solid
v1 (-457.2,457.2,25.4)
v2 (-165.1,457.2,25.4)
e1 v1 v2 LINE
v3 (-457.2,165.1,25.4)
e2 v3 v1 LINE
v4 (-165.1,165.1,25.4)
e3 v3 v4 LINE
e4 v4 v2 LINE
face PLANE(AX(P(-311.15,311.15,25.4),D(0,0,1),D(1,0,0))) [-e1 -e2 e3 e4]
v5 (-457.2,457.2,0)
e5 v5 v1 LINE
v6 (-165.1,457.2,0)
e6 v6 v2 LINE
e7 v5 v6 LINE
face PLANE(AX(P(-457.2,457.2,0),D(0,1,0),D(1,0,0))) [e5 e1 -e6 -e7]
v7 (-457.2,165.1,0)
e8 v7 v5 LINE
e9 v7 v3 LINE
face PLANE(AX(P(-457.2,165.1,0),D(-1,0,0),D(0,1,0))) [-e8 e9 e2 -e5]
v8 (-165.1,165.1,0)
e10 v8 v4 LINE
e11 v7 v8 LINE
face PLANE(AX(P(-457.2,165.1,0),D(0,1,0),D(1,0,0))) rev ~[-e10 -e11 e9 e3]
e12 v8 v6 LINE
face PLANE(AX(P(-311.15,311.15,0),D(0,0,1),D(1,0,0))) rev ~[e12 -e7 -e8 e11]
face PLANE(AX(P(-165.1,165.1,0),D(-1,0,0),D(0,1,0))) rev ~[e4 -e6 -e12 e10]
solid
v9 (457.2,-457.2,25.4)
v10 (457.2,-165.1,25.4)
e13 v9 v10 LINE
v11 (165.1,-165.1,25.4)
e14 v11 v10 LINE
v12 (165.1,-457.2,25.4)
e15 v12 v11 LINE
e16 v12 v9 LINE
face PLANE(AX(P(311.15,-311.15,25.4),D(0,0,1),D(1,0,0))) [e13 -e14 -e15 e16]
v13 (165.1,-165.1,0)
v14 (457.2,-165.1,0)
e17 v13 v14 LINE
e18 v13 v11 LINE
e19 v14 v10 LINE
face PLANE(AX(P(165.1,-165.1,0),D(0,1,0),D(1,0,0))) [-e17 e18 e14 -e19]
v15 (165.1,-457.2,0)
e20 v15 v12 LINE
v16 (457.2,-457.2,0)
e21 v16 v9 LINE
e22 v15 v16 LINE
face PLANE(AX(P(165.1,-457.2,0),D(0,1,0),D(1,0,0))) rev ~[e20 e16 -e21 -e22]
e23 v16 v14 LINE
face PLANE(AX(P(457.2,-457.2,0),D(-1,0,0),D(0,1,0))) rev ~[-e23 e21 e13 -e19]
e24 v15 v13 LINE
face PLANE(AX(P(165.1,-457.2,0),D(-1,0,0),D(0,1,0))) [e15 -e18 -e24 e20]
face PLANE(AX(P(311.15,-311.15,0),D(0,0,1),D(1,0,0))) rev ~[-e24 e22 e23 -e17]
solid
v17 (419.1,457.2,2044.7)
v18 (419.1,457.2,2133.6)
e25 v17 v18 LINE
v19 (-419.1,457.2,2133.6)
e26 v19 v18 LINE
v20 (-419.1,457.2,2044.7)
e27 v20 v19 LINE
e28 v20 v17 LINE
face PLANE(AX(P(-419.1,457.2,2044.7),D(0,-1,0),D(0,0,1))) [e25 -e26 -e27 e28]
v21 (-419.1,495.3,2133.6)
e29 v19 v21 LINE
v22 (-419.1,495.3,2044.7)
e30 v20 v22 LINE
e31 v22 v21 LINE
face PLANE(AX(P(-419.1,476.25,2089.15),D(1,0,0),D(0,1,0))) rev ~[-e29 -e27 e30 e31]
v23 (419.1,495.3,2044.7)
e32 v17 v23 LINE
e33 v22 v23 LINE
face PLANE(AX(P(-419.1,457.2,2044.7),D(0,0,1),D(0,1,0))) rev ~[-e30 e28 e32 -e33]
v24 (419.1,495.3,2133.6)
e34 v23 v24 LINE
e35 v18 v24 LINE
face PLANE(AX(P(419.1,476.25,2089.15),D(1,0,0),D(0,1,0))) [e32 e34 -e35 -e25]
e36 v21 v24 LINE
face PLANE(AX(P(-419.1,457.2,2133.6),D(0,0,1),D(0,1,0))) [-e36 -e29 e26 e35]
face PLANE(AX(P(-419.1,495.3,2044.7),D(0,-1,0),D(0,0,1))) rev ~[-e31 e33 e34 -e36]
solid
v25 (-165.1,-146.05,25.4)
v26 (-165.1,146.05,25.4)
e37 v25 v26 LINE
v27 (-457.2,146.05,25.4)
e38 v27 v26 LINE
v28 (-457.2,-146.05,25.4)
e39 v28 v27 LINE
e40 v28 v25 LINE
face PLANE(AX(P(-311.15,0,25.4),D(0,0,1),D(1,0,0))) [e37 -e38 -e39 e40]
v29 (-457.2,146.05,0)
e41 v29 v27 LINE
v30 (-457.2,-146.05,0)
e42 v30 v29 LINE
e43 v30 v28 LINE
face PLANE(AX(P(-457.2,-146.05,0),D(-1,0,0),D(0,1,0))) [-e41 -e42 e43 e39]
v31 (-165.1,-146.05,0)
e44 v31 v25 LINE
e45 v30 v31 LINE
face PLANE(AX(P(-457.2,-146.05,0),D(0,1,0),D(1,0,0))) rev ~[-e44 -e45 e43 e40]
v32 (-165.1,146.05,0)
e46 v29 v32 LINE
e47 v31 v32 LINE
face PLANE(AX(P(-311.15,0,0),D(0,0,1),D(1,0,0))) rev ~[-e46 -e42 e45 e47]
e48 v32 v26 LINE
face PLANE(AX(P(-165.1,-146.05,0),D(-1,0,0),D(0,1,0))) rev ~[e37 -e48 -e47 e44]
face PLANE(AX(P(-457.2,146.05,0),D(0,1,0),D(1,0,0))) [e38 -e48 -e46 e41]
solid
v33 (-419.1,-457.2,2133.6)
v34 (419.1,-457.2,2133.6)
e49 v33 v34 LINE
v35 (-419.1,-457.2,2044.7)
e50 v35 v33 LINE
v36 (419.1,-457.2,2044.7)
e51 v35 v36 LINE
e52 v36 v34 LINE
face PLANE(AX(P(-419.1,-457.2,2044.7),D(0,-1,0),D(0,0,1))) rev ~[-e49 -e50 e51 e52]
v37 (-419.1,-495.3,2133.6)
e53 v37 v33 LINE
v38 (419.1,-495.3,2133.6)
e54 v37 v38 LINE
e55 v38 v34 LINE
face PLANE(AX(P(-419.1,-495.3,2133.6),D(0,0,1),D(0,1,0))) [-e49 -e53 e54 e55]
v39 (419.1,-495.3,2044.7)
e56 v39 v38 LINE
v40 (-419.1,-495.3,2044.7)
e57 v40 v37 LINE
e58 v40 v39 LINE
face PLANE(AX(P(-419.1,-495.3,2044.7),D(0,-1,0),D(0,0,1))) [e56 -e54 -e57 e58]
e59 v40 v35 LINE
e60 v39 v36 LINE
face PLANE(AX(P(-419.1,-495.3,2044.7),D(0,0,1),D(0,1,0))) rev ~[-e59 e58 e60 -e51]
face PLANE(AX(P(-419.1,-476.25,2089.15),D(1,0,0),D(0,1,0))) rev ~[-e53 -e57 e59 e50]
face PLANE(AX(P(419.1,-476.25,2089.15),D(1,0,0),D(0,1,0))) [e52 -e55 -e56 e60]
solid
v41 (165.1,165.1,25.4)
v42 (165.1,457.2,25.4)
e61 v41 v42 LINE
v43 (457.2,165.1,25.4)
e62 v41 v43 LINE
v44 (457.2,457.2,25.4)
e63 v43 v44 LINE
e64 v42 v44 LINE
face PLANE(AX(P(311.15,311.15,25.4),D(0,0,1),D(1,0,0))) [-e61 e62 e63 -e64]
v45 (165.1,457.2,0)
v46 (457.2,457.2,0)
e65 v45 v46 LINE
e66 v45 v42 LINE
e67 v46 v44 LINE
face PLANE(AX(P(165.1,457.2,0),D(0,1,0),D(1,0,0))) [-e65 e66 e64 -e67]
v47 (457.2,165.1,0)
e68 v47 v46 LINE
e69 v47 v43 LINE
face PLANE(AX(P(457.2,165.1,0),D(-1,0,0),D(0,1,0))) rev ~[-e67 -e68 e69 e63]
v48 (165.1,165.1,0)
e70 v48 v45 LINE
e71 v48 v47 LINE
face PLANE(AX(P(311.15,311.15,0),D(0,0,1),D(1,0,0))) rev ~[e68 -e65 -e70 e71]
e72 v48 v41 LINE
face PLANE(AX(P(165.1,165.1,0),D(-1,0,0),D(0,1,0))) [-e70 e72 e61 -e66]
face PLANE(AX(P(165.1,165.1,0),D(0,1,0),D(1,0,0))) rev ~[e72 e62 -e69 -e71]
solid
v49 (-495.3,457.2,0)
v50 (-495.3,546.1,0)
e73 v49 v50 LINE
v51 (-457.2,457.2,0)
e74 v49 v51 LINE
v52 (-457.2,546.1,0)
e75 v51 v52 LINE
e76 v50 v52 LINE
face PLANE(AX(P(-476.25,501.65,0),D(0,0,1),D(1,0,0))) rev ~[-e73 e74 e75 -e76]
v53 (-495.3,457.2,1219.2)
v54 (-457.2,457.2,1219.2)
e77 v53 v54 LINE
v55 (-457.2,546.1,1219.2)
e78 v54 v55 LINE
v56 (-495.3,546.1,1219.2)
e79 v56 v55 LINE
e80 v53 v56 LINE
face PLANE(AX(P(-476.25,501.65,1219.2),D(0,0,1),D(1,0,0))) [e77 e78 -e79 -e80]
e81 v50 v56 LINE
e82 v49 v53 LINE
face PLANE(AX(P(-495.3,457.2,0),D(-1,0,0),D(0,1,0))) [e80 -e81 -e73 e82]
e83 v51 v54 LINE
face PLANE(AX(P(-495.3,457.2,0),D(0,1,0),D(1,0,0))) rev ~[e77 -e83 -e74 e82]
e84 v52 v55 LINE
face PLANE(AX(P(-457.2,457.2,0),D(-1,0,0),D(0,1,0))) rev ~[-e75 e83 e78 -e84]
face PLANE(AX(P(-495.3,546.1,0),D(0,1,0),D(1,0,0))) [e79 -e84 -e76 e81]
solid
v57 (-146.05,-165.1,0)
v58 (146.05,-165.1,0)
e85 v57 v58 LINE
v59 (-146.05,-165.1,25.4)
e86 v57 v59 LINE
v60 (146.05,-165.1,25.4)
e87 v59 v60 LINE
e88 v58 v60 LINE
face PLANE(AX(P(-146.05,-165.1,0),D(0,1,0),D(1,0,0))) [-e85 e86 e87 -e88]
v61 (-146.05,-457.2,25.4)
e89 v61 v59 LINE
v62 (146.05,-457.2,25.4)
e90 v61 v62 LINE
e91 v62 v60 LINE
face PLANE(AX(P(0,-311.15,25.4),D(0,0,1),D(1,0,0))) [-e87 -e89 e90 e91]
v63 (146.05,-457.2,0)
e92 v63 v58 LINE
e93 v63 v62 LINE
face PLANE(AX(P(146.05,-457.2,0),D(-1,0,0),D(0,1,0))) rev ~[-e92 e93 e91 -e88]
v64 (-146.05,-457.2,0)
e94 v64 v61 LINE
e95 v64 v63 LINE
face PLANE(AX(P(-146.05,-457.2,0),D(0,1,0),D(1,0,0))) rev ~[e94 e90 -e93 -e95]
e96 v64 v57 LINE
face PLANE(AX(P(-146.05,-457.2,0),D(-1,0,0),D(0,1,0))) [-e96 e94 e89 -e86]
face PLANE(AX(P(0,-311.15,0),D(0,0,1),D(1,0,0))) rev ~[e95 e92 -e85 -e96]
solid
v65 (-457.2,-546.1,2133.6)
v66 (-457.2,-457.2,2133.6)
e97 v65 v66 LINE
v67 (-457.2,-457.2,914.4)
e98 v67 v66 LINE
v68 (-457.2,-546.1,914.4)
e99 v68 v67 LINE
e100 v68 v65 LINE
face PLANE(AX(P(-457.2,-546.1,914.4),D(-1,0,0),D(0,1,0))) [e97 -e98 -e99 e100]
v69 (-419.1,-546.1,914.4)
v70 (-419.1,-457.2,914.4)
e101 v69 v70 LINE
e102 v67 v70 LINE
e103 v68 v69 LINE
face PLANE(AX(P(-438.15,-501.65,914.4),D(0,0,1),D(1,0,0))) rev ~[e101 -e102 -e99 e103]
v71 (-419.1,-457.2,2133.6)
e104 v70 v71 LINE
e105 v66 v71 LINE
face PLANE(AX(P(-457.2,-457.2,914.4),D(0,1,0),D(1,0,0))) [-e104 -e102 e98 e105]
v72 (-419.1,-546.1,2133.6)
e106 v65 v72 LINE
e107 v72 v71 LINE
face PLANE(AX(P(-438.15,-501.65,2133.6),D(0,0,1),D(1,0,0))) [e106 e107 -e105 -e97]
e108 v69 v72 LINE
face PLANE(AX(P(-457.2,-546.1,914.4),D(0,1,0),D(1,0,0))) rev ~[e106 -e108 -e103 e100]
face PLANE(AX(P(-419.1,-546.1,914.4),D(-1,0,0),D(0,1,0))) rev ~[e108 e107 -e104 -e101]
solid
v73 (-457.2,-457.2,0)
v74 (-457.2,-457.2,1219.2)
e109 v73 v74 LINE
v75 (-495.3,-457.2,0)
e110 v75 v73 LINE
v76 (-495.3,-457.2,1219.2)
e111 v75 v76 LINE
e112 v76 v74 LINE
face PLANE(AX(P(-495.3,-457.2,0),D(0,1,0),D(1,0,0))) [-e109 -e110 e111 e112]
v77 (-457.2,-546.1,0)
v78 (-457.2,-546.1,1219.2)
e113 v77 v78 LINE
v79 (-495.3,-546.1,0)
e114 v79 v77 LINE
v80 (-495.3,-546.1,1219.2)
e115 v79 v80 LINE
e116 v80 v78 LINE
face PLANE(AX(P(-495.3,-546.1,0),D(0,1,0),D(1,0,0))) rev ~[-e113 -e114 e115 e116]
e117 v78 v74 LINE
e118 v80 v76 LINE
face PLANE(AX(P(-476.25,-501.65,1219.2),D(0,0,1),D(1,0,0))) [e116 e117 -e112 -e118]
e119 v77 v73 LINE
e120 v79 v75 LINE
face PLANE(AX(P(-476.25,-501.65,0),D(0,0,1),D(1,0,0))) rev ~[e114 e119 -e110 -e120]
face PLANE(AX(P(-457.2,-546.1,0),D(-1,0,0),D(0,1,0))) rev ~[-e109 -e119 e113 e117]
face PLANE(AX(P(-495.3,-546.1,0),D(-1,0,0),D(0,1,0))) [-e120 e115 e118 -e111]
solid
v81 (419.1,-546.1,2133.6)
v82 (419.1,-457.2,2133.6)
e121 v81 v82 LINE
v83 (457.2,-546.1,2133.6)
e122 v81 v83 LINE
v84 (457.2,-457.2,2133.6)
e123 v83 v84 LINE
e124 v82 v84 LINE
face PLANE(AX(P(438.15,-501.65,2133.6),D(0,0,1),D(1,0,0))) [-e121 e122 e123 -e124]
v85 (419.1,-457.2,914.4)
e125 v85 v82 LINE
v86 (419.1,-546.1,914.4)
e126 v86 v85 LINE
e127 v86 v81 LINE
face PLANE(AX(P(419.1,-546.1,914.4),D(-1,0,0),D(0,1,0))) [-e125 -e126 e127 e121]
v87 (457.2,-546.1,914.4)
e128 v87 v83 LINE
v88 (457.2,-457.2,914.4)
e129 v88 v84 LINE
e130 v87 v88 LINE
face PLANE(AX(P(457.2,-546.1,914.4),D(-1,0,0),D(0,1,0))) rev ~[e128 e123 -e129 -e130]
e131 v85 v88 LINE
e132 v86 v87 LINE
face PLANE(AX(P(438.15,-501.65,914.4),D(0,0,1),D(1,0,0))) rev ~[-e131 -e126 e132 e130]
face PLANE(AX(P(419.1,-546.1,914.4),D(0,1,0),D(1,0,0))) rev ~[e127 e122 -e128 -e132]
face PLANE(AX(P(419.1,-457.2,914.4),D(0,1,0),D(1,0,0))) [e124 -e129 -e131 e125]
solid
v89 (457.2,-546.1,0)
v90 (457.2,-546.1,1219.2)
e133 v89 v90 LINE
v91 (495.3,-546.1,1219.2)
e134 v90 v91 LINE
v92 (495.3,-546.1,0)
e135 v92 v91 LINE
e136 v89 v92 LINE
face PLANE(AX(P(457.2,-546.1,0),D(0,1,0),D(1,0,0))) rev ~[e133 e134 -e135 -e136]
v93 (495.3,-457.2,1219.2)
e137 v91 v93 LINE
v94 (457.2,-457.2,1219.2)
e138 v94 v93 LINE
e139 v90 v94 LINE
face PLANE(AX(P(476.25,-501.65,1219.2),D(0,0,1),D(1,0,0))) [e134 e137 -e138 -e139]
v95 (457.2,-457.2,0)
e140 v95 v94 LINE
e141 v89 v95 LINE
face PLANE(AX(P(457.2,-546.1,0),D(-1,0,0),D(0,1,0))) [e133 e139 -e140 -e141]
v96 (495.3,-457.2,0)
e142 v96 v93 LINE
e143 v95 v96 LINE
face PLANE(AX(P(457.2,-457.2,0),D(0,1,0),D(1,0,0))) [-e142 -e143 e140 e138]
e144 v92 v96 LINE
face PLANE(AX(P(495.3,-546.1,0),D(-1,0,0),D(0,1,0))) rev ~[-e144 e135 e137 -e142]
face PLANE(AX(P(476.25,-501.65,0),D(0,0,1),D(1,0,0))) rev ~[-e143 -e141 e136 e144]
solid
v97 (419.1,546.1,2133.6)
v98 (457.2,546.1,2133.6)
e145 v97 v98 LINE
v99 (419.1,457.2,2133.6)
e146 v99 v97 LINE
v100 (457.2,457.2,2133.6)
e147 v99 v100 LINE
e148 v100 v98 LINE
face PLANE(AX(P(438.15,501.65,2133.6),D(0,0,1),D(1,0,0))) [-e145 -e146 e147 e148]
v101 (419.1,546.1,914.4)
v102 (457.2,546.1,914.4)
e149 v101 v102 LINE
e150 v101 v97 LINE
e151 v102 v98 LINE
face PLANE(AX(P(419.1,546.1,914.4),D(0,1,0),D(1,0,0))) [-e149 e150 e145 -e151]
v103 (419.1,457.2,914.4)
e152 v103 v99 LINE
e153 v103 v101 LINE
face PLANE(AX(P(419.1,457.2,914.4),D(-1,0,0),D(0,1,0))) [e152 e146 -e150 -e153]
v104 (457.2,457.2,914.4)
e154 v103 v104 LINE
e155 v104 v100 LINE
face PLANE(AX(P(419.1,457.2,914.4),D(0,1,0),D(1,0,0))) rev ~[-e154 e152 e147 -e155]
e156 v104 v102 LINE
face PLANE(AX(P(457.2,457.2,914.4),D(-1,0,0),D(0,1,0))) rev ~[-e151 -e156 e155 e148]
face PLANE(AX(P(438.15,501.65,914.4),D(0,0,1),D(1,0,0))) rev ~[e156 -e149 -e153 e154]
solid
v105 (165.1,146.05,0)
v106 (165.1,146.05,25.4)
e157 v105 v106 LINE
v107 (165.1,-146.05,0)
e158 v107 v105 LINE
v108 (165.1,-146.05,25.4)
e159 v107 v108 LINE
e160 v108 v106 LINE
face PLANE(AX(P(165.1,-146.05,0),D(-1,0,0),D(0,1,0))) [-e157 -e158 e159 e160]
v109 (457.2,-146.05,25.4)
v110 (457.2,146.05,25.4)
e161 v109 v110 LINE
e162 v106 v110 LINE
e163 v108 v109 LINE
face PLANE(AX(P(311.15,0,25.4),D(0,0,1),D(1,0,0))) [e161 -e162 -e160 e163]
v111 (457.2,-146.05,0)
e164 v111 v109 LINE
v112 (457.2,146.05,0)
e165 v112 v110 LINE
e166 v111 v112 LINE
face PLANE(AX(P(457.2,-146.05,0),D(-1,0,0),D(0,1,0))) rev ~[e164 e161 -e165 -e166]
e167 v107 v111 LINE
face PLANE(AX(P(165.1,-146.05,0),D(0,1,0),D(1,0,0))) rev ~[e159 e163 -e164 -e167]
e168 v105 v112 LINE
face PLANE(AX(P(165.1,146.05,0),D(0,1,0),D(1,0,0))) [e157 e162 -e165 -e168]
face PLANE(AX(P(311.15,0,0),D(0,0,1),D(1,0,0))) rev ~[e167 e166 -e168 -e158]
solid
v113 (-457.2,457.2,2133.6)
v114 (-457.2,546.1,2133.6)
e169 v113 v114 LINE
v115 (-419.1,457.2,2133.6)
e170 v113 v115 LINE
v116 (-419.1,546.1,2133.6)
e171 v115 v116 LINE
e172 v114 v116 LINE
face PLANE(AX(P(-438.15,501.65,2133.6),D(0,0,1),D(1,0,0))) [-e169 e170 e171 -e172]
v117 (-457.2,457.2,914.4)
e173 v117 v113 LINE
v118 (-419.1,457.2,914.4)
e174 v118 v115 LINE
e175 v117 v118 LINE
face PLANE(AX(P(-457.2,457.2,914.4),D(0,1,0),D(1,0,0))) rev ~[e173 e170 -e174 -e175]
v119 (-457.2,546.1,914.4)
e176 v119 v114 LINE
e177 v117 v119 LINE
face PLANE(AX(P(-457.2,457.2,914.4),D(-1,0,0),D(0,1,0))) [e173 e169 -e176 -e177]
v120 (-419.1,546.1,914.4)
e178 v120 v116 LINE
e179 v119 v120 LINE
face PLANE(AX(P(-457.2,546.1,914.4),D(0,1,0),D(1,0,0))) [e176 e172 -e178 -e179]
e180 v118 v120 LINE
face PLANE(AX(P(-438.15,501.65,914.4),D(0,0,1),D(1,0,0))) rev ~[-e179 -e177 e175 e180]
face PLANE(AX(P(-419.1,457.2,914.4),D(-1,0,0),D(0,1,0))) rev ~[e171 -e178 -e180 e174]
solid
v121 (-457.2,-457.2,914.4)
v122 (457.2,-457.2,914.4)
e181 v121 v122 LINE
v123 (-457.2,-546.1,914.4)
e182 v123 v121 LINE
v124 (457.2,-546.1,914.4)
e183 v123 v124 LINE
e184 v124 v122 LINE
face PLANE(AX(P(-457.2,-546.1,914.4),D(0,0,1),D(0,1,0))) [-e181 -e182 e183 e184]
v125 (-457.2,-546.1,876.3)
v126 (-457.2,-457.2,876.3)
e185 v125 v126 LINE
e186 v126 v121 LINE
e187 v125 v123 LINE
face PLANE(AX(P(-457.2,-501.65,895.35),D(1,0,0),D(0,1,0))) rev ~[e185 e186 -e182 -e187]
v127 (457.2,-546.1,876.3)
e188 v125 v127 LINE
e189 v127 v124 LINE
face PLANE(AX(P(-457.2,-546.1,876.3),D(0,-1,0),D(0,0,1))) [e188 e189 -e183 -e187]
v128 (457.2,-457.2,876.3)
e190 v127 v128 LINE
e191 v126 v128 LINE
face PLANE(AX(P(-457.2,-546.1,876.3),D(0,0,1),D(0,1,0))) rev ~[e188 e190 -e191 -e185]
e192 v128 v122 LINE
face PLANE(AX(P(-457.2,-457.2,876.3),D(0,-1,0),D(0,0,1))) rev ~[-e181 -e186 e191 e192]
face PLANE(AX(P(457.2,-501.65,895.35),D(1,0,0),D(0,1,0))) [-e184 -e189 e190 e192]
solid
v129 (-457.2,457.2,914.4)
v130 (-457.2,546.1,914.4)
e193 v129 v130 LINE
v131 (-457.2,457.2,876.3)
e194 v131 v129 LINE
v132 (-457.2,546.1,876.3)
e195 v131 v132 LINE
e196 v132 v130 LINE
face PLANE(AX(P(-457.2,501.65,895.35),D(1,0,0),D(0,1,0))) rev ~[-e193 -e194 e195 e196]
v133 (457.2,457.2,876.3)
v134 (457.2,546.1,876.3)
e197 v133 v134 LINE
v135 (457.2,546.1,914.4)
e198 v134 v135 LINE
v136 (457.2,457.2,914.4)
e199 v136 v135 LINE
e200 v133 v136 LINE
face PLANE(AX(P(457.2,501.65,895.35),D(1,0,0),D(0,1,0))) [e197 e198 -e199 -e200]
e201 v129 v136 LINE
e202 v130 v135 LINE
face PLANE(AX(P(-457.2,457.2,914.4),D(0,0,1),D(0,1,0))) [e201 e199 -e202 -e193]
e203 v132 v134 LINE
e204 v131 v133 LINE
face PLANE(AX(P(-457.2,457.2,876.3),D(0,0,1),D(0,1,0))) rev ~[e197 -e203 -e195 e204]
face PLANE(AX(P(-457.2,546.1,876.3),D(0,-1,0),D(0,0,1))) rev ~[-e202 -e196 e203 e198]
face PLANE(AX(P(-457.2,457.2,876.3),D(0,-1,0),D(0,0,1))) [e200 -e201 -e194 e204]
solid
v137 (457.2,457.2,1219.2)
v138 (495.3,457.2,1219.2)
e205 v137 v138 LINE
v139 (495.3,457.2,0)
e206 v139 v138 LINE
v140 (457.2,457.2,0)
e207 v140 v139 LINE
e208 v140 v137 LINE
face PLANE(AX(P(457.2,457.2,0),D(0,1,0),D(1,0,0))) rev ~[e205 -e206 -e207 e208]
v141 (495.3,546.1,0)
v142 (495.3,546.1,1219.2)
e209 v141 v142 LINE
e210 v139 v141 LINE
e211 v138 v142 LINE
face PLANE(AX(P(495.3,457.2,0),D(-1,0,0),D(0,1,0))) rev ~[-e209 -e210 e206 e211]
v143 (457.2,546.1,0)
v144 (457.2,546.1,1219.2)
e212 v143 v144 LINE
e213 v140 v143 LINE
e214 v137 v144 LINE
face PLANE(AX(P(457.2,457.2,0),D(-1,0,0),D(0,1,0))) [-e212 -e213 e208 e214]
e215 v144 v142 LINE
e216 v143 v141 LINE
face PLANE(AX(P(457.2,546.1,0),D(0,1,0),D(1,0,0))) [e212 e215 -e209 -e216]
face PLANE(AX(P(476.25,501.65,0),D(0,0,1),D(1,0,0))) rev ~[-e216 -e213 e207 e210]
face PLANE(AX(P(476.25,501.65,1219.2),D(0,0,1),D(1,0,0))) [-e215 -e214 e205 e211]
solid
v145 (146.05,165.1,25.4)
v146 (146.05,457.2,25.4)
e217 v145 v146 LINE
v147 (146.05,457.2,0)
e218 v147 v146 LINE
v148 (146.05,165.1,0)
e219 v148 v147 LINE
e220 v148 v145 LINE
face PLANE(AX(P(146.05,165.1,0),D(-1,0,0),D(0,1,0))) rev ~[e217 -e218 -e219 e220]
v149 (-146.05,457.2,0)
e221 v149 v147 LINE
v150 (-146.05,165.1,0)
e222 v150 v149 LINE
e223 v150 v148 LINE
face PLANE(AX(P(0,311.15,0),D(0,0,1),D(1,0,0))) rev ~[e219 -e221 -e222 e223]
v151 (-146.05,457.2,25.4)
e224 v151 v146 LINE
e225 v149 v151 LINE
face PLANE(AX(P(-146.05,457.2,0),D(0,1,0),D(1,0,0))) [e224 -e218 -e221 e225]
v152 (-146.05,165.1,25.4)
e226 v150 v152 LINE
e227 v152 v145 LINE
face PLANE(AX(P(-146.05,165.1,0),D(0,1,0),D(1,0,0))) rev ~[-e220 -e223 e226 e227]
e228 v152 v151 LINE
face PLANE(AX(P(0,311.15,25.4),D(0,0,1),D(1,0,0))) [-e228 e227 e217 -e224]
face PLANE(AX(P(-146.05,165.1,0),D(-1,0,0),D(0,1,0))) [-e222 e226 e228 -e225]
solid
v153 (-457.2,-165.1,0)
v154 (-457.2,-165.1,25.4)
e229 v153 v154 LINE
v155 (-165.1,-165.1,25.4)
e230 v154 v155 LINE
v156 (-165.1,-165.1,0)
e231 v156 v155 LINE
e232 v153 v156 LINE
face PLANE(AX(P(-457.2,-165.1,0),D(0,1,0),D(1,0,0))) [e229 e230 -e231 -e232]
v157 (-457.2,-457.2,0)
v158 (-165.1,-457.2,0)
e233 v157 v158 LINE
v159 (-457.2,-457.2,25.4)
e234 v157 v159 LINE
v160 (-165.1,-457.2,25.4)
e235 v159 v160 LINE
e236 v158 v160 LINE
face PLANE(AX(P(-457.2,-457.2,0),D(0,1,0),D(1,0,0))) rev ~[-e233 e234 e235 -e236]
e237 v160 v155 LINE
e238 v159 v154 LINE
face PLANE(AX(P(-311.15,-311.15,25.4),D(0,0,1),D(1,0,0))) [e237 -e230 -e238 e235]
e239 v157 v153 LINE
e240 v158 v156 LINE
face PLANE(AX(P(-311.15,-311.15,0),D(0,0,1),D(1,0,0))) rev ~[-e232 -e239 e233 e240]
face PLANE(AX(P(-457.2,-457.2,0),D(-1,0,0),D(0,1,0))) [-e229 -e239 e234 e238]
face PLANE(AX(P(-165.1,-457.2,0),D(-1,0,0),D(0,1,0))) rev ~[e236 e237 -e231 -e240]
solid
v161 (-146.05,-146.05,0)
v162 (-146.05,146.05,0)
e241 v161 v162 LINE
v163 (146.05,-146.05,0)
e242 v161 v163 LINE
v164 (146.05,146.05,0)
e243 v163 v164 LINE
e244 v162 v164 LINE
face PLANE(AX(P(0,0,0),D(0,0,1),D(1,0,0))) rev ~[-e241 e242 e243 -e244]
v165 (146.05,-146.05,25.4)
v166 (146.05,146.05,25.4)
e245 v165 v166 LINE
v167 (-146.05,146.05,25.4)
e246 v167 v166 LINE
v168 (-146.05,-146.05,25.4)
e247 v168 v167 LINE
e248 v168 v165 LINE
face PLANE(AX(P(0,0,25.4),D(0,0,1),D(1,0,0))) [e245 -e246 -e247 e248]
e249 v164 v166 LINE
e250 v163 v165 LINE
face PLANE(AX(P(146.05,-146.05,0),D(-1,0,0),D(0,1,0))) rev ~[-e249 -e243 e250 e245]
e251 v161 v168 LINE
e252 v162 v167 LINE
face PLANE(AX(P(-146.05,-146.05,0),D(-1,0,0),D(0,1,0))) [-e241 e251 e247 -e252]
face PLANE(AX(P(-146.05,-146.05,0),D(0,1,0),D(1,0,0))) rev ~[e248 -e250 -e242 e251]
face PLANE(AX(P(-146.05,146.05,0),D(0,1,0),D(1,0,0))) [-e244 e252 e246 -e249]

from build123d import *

# Parameters (mm, degrees)
F0_W      = 292.1
F0_H      = 292.1
F1_DEPTH  = 25.4
F2_W      = 38.1
F2_H      = 88.9
F3_DEPTH  = 1219.2
F5_W      = 38.1
F5_H      = 88.9
F6_DEPTH  = 1219.2
F7_W      = 88.9
F7_H      = 38.1
F8_DEPTH  = 914.4
F9_W      = 38.1
F9_H      = 88.9
F10_DEPTH = 838.2


with BuildPart() as f1:
    # F0 (on Top) → F1 (new body)
    with BuildSketch(Plane.XY):
        with Locations((-311.15, 311.15)):
            Rectangle(F0_W, F0_H)
    extrude(amount=F1_DEPTH)


with BuildPart() as f1b:
    # F0 (on Top) → F1, piece 2 (new body)
    with BuildSketch(Plane.XY):
        with Locations((-311.15, 0)):
            Rectangle(F0_W, F0_H)
    extrude(amount=F1_DEPTH)


with BuildPart() as f1c:
    # F0 (on Top) → F1, piece 3 (new body)
    with BuildSketch(Plane.XY):
        with Locations((-311.15, -311.15)):
            Rectangle(F0_W, F0_H)
    extrude(amount=F1_DEPTH)


with BuildPart() as f1d:
    # F0 (on Top) → F1, piece 4 (new body)
    with BuildSketch(Plane.XY):
        with Locations((0, 311.15)):
            Rectangle(F0_W, F0_H)
    extrude(amount=F1_DEPTH)


with BuildPart() as f1e:
    # F0 (on Top) → F1, piece 5 (new body)
    with BuildSketch(Plane.XY):
        Rectangle(F0_W, F0_H)
    extrude(amount=F1_DEPTH)


with BuildPart() as f1f:
    # F0 (on Top) → F1, piece 6 (new body)
    with BuildSketch(Plane.XY):
        with Locations((0, -311.15)):
            Rectangle(F0_W, F0_H)
    extrude(amount=F1_DEPTH)


with BuildPart() as f1g:
    # F0 (on Top) → F1, piece 7 (new body)
    with BuildSketch(Plane.XY):
        with Locations((311.15, 311.15)):
            Rectangle(F0_W, F0_H)
    extrude(amount=F1_DEPTH)


with BuildPart() as f1h:
    # F0 (on Top) → F1, piece 8 (new body)
    with BuildSketch(Plane.XY):
        with Locations((311.15, 0)):
            Rectangle(F0_W, F0_H)
    extrude(amount=F1_DEPTH)


with BuildPart() as f1i:
    # F0 (on Top) → F1, piece 9 (new body)
    with BuildSketch(Plane.XY):
        with Locations((311.15, -311.15)):
            Rectangle(F0_W, F0_H)
    extrude(amount=F1_DEPTH)


with BuildPart() as f3:
    # F2 (on Top) → F3 (new body)
    with BuildSketch(Plane.XY):
        with Locations((-476.25, 501.65)):
            Rectangle(F2_W, F2_H)
    extrude(amount=F3_DEPTH)


with BuildPart() as f3b:
    # F2 (on Top) → F3, piece 2 (new body)
    with BuildSketch(Plane.XY):
        with Locations((-476.25, -501.65)):
            Rectangle(F2_W, F2_H)
    extrude(amount=F3_DEPTH)


with BuildPart() as f3c:
    # F2 (on Top) → F3, piece 3 (new body)
    with BuildSketch(Plane.XY):
        with Locations((476.25, 501.65)):
            Rectangle(F2_W, F2_H)
    extrude(amount=F3_DEPTH)


with BuildPart() as f3d:
    # F2 (on Top) → F3, piece 4 (new body)
    with BuildSketch(Plane.XY):
        with Locations((476.25, -501.65)):
            Rectangle(F2_W, F2_H)
    extrude(amount=F3_DEPTH)


with BuildPart() as f6:
    # F5 (on offset) → F6 (new body)
    with BuildSketch(Plane.XY.offset(914.4)):
        with Locations((-438.15, 501.65)):
            Rectangle(F5_W, F5_H)
    extrude(amount=F6_DEPTH)


with BuildPart() as f6b:
    # F5 (on offset) → F6, piece 2 (new body)
    with BuildSketch(Plane.XY.offset(914.4)):
        with Locations((-438.15, -501.65)):
            Rectangle(F5_W, F5_H)
    extrude(amount=F6_DEPTH)


with BuildPart() as f6c:
    # F5 (on offset) → F6, piece 3 (new body)
    with BuildSketch(Plane.XY.offset(914.4)):
        with Locations((438.15, 501.65)):
            Rectangle(F5_W, F5_H)
    extrude(amount=F6_DEPTH)


with BuildPart() as f6d:
    # F5 (on offset) → F6, piece 4 (new body)
    with BuildSketch(Plane.XY.offset(914.4)):
        with Locations((438.15, -501.65)):
            Rectangle(F5_W, F5_H)
    extrude(amount=F6_DEPTH)


with BuildPart() as f8:
    # F7 (on face) → F8 (new body, through all)
    with BuildSketch(Plane.YZ.offset(-457.2)):
        with Locations((-501.65, 895.35)):
            Rectangle(F7_W, F7_H)
    extrude(amount=F8_DEPTH)


with BuildPart() as f8b:
    # F7 (on face) → F8, piece 2 (new body, through all)
    with BuildSketch(Plane.YZ.offset(-457.2)):
        with Locations((501.65, 895.35)):
            Rectangle(F7_W, F7_H)
    extrude(amount=F8_DEPTH)


with BuildPart() as f10:
    # F9 (on face) → F10 (new body, through all)
    with BuildSketch(Plane.YZ.offset(-419.1)):
        with Locations((-476.25, 2089.15)):
            Rectangle(F9_W, F9_H)
    extrude(amount=F10_DEPTH)


with BuildPart() as f10b:
    # F9 (on face) → F10, piece 2 (new body, through all)
    with BuildSketch(Plane.YZ.offset(-419.1)):
        with Locations((476.25, 2089.15)):
            Rectangle(F9_W, F9_H)
    extrude(amount=F10_DEPTH)


solid = Compound([f1.part, f1b.part, f1c.part, f1d.part, f1e.part, f1f.part, f1g.part, f1h.part, f1i.part, f3.part, f3b.part, f3c.part, f3d.part, f6.part, f6b.part, f6c.part, f6d.part, f8.part, f8b.part, f10.part, f10b.part])
